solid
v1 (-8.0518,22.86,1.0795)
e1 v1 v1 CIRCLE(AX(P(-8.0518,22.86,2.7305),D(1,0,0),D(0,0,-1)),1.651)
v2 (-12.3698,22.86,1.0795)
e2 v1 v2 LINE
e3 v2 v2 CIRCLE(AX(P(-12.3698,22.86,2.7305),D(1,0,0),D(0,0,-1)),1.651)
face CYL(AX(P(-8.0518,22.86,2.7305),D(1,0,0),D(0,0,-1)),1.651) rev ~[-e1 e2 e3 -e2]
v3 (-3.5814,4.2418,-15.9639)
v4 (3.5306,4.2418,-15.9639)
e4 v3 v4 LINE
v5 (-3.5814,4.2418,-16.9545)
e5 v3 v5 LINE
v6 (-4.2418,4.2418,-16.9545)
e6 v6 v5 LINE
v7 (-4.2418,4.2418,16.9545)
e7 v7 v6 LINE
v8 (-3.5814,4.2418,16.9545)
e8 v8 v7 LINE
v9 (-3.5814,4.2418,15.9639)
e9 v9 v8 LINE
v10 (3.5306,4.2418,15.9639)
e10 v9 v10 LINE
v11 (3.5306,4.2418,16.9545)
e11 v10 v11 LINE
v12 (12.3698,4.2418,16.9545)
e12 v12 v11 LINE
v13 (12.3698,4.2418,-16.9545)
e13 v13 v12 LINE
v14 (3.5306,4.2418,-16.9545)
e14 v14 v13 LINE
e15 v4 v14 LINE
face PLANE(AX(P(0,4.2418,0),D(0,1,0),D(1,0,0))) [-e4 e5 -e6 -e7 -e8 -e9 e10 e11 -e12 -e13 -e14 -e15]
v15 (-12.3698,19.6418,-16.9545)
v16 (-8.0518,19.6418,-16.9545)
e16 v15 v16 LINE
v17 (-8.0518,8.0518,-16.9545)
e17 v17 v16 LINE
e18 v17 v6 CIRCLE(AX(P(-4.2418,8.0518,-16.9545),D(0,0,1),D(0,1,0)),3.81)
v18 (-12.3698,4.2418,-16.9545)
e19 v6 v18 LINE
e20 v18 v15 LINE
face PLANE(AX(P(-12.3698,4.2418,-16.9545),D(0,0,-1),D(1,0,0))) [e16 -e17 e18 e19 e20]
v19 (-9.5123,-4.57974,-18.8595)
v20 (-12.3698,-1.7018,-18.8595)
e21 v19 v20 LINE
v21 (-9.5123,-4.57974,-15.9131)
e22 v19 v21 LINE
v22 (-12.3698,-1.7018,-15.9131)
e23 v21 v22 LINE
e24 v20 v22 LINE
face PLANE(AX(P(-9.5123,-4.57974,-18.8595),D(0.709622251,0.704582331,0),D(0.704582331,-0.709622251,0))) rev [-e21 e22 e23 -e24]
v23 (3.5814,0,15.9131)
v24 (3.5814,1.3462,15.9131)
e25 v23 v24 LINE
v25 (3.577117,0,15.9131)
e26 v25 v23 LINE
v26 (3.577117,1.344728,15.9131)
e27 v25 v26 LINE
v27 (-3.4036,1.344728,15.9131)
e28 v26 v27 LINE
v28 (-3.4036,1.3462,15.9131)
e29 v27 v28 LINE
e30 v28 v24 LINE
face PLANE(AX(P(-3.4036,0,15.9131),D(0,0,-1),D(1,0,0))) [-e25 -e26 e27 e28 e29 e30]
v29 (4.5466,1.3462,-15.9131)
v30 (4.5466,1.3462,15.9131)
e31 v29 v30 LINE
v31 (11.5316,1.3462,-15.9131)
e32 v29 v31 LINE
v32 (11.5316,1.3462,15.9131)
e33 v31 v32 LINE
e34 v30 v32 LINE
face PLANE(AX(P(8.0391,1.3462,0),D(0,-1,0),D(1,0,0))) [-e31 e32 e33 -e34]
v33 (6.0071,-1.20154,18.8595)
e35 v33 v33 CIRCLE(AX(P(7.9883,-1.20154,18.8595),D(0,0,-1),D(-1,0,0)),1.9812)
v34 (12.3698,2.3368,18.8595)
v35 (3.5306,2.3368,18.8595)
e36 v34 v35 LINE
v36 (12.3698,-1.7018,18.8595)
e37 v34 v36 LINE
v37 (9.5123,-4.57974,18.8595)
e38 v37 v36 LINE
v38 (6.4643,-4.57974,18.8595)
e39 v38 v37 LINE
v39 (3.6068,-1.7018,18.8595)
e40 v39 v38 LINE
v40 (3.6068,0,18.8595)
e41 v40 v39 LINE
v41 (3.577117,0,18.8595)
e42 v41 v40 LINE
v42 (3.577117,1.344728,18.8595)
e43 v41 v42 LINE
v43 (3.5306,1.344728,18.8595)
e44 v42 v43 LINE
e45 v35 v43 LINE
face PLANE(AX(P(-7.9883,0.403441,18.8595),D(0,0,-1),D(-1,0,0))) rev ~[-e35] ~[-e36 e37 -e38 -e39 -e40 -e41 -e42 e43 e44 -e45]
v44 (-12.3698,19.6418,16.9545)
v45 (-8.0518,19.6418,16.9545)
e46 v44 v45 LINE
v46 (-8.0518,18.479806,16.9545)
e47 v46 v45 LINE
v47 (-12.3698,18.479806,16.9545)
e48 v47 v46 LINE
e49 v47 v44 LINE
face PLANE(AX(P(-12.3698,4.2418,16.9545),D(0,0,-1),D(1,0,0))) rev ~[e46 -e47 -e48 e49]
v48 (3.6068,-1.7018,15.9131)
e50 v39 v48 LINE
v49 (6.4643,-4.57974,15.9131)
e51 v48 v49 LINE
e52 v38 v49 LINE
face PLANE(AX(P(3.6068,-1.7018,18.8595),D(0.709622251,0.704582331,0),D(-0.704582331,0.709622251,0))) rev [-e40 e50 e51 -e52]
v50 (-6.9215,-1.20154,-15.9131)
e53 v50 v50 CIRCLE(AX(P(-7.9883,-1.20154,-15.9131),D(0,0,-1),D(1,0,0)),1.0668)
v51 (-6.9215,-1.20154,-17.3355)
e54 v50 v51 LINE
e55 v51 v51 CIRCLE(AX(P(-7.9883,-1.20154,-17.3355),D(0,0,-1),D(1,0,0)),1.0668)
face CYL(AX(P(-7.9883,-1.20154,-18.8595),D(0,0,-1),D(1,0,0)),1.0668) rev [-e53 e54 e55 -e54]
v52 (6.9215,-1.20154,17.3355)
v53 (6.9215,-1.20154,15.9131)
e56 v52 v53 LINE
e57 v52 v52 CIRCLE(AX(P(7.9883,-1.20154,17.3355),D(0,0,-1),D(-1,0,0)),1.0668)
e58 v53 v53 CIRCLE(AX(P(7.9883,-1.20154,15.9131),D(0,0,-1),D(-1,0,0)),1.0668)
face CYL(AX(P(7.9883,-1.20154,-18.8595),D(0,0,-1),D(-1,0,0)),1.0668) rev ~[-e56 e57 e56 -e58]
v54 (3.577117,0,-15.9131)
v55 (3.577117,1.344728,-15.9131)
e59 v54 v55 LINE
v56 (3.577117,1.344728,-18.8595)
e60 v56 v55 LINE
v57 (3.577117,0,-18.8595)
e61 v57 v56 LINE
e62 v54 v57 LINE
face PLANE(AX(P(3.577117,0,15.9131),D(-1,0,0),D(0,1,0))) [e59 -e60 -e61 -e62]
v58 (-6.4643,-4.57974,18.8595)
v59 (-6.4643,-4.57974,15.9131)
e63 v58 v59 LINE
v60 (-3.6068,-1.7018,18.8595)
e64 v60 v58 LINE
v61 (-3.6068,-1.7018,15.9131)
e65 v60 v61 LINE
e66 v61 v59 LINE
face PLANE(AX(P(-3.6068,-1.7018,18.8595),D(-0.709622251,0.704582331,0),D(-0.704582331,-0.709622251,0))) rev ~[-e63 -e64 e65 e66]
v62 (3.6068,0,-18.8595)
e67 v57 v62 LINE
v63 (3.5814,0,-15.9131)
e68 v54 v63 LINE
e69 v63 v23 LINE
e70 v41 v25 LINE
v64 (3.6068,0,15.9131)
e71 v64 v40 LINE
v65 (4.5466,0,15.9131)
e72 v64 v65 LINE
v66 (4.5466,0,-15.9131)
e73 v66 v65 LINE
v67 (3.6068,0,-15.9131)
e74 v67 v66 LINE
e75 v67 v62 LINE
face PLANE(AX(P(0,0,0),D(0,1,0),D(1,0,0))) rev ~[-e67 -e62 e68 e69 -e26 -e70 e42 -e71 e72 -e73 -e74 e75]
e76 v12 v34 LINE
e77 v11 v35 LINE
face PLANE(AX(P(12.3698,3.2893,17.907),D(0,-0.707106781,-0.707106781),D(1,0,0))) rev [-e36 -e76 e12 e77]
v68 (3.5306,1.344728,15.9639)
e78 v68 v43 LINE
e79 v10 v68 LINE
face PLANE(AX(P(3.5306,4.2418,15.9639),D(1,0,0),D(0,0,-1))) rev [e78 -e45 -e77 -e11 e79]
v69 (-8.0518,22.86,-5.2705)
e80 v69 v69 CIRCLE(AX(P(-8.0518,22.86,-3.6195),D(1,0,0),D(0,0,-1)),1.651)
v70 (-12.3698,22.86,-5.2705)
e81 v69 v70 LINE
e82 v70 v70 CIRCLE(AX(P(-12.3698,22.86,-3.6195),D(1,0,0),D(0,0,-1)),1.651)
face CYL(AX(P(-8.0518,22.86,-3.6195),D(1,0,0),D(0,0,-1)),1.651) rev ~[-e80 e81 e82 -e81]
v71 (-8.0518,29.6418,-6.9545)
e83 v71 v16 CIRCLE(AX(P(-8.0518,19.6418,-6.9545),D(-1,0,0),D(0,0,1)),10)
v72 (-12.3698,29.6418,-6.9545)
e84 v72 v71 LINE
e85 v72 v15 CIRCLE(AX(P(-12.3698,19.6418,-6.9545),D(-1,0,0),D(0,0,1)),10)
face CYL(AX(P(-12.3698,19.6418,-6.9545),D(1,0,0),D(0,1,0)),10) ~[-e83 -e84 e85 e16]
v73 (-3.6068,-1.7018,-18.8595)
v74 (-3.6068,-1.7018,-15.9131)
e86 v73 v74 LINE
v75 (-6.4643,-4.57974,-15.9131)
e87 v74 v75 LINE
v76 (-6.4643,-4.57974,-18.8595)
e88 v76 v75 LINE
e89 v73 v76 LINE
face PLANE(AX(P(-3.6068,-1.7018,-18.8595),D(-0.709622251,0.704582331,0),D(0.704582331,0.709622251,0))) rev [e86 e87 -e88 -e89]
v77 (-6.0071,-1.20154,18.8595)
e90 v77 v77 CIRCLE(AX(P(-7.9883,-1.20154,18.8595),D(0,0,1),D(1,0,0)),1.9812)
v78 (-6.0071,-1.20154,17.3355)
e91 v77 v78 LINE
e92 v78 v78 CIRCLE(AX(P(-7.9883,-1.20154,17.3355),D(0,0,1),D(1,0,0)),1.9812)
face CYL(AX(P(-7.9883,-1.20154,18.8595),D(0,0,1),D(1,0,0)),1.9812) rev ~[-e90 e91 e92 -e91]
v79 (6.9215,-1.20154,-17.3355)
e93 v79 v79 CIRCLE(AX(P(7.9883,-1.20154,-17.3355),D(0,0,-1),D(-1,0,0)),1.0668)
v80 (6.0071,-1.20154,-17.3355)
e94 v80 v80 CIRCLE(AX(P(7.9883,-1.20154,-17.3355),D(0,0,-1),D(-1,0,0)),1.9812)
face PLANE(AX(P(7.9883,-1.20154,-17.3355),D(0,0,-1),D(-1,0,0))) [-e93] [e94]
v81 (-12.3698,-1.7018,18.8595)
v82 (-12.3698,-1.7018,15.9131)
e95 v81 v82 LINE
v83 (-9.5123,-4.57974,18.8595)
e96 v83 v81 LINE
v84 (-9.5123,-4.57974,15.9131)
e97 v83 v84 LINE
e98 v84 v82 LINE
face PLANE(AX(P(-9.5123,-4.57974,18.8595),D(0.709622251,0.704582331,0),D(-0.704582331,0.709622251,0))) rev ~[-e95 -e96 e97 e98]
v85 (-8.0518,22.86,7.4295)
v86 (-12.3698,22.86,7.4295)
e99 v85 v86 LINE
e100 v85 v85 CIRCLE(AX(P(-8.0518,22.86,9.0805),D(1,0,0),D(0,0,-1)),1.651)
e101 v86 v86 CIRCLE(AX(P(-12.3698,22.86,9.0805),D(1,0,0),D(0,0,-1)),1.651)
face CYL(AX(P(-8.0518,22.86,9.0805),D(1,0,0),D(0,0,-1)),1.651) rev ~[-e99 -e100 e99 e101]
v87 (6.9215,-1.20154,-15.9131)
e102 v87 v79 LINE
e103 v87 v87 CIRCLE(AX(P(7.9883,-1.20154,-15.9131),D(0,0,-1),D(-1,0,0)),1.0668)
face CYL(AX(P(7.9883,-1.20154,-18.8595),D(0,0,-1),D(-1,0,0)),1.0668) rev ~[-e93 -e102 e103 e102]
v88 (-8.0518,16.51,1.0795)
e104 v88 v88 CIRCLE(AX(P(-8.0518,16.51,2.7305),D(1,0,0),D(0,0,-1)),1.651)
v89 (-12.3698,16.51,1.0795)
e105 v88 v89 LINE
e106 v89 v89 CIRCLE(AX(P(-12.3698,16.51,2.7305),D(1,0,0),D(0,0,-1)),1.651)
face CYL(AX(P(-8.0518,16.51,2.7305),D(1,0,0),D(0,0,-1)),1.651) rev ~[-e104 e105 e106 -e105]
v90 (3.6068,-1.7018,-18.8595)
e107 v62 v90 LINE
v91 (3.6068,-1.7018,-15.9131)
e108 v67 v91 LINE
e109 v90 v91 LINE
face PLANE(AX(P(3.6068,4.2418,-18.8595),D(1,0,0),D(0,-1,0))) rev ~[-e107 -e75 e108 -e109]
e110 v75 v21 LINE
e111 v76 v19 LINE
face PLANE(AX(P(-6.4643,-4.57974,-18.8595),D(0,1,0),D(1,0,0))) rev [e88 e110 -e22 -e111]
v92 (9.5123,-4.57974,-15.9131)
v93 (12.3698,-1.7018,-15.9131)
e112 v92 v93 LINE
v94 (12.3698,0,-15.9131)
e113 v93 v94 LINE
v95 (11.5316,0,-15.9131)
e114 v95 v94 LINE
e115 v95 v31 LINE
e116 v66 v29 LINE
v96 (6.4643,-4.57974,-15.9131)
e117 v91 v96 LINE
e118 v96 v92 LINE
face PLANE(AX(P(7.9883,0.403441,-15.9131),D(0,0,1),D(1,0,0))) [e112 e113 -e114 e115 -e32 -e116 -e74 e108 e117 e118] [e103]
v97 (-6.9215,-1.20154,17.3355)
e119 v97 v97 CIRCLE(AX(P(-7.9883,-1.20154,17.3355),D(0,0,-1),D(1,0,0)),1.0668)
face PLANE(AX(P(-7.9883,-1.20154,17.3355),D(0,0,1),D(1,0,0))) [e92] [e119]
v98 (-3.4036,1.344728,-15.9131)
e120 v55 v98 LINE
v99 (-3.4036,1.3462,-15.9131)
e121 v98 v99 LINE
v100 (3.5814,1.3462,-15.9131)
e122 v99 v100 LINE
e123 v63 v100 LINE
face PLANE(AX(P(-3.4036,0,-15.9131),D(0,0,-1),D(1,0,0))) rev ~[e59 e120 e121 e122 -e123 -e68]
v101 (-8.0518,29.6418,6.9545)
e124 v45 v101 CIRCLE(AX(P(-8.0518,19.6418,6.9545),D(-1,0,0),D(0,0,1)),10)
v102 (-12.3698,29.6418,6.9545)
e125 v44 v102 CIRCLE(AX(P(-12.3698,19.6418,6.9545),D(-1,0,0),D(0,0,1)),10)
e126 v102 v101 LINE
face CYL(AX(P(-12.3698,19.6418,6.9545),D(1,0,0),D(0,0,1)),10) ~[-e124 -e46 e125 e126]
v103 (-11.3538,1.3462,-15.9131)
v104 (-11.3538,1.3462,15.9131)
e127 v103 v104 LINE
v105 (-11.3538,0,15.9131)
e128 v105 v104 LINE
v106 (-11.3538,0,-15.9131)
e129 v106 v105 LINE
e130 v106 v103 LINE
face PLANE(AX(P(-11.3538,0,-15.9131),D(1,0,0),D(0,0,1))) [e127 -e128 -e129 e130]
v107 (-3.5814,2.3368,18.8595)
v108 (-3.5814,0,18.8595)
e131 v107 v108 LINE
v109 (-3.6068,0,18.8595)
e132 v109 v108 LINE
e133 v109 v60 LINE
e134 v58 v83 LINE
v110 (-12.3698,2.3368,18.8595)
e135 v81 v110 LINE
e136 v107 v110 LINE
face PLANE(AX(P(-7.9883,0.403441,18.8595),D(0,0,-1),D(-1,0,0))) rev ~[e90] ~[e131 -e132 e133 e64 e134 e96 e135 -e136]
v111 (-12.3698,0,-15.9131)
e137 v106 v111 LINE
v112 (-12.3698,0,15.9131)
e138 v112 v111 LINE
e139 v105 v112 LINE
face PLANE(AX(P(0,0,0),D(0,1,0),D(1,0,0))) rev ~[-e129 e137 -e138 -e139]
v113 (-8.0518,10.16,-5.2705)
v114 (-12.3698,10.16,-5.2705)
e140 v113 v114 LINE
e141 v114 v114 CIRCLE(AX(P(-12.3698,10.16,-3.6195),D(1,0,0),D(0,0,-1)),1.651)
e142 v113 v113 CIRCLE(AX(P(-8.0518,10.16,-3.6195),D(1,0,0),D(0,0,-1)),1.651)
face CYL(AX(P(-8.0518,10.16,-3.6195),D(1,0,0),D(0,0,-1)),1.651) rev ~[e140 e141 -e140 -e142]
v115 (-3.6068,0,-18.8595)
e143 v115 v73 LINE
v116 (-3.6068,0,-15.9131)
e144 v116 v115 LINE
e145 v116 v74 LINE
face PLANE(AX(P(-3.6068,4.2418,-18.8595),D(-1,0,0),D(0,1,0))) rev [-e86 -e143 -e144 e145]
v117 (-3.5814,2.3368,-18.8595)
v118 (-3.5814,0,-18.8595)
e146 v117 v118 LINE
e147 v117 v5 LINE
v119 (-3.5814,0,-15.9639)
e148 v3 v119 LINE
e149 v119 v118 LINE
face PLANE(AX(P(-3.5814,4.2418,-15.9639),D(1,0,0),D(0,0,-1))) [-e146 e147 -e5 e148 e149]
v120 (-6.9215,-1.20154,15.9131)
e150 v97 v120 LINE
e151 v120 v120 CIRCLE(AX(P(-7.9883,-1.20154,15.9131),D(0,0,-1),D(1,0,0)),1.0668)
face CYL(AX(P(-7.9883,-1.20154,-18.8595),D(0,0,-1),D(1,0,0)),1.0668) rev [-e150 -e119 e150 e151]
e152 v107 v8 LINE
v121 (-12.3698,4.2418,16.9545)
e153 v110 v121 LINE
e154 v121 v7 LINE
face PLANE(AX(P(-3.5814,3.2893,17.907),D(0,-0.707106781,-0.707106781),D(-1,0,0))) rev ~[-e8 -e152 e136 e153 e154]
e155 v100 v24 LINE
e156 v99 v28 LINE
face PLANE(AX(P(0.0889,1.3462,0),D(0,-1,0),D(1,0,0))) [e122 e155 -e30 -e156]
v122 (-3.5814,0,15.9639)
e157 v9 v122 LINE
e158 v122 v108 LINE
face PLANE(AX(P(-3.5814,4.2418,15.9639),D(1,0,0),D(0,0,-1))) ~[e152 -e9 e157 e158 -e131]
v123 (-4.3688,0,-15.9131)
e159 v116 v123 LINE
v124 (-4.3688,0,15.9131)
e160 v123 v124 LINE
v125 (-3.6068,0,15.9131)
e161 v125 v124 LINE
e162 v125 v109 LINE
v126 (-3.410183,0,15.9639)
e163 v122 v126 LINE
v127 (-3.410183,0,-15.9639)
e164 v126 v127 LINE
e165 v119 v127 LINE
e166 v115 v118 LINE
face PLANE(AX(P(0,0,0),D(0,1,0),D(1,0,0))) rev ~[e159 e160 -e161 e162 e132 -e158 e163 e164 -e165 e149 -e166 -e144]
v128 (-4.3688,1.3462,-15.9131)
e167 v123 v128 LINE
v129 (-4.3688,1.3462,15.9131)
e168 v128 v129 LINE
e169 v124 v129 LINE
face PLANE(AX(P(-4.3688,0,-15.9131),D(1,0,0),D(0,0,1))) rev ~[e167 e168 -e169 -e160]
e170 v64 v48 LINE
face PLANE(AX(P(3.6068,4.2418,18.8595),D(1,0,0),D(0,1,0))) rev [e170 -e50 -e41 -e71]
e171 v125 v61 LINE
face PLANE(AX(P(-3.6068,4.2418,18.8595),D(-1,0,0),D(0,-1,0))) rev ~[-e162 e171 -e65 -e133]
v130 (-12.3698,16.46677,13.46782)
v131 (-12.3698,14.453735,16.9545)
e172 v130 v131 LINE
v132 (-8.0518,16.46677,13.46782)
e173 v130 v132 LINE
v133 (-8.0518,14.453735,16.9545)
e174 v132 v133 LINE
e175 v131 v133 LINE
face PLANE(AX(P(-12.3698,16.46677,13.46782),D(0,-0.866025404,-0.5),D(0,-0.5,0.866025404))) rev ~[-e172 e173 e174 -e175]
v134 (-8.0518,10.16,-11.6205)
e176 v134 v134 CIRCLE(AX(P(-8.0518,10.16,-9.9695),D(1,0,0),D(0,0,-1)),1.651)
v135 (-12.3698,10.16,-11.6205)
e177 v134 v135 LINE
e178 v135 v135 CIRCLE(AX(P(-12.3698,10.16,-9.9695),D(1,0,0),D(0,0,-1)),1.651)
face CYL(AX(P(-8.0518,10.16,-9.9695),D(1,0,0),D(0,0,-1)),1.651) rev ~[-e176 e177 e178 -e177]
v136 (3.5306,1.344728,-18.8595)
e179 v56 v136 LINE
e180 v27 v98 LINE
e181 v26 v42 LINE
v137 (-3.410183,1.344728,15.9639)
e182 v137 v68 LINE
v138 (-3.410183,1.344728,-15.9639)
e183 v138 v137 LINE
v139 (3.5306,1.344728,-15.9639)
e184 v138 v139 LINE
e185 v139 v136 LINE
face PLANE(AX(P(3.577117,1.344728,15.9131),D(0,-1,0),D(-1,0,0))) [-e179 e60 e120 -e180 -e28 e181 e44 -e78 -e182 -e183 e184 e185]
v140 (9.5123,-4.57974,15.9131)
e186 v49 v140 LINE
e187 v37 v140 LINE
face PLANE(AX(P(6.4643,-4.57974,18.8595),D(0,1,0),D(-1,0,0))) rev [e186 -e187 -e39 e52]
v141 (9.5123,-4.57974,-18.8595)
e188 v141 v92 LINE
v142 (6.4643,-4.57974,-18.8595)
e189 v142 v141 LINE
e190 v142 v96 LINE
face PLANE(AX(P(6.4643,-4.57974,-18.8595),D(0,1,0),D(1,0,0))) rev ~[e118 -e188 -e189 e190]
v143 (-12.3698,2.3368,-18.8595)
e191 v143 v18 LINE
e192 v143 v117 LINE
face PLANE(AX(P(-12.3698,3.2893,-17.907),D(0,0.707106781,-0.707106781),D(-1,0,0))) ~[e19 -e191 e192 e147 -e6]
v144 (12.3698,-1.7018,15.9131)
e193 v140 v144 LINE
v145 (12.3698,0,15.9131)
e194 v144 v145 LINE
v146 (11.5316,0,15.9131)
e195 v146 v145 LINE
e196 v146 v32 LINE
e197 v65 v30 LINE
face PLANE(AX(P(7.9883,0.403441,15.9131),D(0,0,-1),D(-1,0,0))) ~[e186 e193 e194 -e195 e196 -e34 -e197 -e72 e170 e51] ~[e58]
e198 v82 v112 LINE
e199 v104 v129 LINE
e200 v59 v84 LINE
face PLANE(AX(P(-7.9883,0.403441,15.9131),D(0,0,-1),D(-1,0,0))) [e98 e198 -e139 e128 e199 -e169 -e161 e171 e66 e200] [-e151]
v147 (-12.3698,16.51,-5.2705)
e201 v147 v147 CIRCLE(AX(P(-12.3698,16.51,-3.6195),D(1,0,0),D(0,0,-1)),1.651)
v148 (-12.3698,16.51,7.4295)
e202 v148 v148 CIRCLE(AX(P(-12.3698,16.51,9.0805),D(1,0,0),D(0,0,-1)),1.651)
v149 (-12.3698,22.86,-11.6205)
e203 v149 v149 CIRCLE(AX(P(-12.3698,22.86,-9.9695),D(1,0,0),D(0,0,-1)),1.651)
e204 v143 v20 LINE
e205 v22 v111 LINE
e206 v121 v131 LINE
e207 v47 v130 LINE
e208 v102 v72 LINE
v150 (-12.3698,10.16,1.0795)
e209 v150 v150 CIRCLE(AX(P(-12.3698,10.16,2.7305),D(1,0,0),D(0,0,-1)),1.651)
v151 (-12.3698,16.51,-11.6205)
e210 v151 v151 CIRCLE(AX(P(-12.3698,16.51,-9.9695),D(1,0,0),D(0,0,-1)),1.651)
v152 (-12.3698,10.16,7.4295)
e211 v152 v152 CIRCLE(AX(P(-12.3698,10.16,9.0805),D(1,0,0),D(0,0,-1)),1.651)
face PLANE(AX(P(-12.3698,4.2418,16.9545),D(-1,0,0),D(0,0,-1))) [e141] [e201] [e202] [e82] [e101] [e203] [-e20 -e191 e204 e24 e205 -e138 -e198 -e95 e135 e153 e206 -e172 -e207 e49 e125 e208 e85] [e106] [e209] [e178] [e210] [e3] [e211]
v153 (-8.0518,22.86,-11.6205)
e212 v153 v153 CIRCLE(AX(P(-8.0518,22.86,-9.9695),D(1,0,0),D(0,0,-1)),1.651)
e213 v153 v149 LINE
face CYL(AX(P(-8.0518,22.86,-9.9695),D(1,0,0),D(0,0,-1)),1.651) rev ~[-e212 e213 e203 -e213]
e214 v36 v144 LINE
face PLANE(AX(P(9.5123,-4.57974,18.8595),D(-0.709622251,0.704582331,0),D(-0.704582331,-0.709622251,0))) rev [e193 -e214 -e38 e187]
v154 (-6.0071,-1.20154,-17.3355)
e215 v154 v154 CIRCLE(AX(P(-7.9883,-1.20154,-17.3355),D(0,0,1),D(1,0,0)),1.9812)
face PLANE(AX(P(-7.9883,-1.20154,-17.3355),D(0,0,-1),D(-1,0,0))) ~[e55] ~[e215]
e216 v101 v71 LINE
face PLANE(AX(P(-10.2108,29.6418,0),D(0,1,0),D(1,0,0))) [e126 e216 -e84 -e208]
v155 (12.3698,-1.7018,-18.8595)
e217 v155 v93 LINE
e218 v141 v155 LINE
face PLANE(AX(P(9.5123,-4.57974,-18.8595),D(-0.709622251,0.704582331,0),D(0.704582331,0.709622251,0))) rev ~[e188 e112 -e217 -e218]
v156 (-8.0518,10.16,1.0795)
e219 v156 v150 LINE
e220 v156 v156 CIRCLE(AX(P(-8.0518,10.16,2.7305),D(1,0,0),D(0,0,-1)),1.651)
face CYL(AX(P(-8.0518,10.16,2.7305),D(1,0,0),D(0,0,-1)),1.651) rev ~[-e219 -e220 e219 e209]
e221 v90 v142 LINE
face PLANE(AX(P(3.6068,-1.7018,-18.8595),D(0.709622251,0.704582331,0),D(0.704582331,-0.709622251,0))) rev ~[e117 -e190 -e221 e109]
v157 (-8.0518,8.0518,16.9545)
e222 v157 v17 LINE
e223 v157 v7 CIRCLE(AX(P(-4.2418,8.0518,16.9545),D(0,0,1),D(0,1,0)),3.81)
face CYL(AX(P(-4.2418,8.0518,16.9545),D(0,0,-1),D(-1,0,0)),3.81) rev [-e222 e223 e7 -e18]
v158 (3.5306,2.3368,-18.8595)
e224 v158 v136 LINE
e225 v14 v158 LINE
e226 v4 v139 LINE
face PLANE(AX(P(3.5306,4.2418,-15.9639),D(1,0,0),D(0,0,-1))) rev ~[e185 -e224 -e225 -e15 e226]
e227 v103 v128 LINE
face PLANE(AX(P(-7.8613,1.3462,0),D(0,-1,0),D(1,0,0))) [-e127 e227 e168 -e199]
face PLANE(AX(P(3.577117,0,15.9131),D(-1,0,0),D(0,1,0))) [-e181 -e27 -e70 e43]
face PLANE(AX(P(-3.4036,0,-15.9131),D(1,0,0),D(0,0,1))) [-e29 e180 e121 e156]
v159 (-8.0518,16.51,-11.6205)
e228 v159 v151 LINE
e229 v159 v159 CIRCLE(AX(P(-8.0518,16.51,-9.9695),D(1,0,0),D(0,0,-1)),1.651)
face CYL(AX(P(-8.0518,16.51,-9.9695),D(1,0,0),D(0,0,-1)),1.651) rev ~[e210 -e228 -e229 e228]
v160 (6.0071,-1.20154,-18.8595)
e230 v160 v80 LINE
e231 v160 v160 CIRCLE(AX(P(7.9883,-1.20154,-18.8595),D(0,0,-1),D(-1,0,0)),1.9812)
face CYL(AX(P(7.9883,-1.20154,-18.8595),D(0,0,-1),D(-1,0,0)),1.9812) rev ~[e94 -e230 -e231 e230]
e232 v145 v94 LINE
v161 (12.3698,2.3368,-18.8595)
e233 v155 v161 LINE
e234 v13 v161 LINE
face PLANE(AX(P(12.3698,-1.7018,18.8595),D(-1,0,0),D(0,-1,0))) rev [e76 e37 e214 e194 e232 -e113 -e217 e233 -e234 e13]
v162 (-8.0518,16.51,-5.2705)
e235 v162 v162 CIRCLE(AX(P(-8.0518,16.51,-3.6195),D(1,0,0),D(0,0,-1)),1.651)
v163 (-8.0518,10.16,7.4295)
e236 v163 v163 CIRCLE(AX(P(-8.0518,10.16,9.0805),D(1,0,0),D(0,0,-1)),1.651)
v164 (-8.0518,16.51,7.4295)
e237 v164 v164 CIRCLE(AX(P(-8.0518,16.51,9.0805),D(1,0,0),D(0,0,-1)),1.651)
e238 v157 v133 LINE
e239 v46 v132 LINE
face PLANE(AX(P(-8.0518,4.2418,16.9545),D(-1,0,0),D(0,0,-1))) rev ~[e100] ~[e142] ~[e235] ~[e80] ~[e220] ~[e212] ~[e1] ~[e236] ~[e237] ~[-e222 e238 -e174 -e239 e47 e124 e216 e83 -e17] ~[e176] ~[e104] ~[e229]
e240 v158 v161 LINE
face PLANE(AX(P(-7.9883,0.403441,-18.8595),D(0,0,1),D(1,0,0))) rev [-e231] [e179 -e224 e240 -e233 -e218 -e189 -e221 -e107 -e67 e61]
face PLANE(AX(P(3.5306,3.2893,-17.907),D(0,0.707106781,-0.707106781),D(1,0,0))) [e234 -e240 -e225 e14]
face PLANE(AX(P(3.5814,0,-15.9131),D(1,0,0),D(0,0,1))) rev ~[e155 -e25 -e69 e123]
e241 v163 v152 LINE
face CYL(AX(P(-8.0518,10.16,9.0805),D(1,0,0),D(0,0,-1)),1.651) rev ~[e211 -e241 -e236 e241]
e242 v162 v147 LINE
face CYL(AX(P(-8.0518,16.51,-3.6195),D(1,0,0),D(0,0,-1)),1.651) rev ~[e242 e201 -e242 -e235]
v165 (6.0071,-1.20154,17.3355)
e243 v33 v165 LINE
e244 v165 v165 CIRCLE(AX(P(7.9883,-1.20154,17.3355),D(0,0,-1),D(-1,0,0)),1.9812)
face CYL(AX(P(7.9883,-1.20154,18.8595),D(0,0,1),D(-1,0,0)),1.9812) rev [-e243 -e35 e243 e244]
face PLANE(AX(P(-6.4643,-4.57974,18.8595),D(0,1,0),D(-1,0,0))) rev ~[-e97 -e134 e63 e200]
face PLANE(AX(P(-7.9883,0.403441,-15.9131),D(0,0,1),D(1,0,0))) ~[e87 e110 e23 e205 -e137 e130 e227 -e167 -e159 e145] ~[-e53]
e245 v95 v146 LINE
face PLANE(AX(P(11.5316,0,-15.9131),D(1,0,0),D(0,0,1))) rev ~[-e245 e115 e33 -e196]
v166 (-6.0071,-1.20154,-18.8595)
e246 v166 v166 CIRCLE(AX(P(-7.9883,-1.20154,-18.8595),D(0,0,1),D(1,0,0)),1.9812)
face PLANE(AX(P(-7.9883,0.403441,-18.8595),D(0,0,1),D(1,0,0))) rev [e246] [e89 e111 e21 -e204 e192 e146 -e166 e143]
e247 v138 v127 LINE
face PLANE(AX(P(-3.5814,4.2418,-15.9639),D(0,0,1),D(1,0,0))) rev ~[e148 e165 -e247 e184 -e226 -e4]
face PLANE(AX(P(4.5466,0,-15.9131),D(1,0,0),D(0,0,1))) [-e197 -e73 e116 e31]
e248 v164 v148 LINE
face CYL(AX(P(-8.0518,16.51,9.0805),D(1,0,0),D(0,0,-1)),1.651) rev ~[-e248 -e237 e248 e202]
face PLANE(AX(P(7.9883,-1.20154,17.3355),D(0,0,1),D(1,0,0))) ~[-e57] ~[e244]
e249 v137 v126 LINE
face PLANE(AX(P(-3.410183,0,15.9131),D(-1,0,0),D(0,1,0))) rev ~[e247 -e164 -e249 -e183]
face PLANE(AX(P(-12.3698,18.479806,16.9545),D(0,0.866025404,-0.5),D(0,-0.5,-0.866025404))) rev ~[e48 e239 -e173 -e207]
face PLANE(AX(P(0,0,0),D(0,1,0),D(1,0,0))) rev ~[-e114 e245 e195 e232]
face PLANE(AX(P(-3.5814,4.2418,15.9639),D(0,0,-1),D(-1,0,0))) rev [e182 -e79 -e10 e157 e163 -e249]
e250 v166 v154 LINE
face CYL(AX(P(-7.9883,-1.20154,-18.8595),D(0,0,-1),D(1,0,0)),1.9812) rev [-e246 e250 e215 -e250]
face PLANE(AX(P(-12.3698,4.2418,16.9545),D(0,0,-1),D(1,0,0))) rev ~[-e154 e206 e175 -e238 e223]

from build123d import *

# Parameters (mm, degrees)
SKETCH1_W                                  = 24.7396
SKETCH1_H                                  = 37.719
BOSS_EXTRUDE1_DEPTH                        = 4.2418
BOSS_EXTRUDE2_DEPTH                        = 2.9464
MIRROR2_COPY_1_DEPTH                       = 2.9464
SKETCH3_W                                  = 6.985
SKETCH3_H                                  = 31.8262
CUT_EXTRUDE1_DEPTH                         = 1.3462
LPATTERN1_COUNT                            = 3
LPATTERN1_PITCH                            = 7.9502
SKETCH4_R                                  = 1.0668
CUT_EXTRUDE2_DEPTH                         = 40.958840453
SKETCH5_R                                  = 1.9812
CUT_EXTRUDE3_DEPTH                         = 1.524
MIRROR4_AT_THE_SECOND_PLANE_COPY_1_SKETC_R = 1.9812
MIRROR4_AT_THE_SECOND_PLANE_COPY_1_DEPTH   = 1.524
SKETCH6_W                                  = 7.112
SKETCH6_H                                  = 2.8956
CUT_EXTRUDE4_DEPTH                         = 25.218015153
SKETCH7_W                                  = 6.987300404
SKETCH7_H                                  = 1.344727602
CUT_EXTRUDE5_DEPTH                         = 63.5
CHAMFER2_SIZE                              = 1.905
SKETCH8_W                                  = 4.318
SKETCH8_H                                  = 33.909
BOSS_EXTRUDE3_DEPTH                        = 25.4
SKETCH9_R                                  = 1.651
CUT_EXTRUDE6_DEPTH                         = 25.4
FILLET1_R                                  = 10
FILLET2_R                                  = 3.81
LPATTERN4_COUNT                            = 2
LPATTERN4_PITCH                            = 6.35
LPATTERN4_COUNT_DIR2                       = 4
LPATTERN4_PITCH_DIR2                       = 6.35
LPATTERN5_COUNT                            = 2
LPATTERN5_PITCH                            = 6.35
LPATTERN5_COPY_1_SKETCH_R                  = 1.651
LPATTERN5_COPY_1_DEPTH                     = 25.4
LPATTERN5_COPY_2_SKETCH_R                  = 1.651
LPATTERN5_COPY_2_DEPTH                     = 25.4
LPATTERN5_COPY_3_SKETCH_R                  = 1.651
LPATTERN5_COPY_3_DEPTH                     = 25.4
LPATTERN5_COPY_4_SKETCH_R                  = 1.651
LPATTERN5_COPY_4_DEPTH                     = 25.4
LPATTERN5_COPY_5_SKETCH_R                  = 1.651
LPATTERN5_COPY_5_DEPTH                     = 25.4
LPATTERN5_COPY_6_SKETCH_R                  = 1.651
LPATTERN5_COPY_6_DEPTH                     = 25.4
LPATTERN5_COPY_7_SKETCH_R                  = 1.651
LPATTERN5_COPY_7_DEPTH                     = 25.4
CUT_EXTRUDE7_DEPTH                         = 25.4


with BuildPart() as part:
    # Sketch1 → Boss-Extrude1 (new body)
    with BuildSketch(Plane(origin=(0, 0, 0), x_dir=(1, 0, 0), z_dir=(0, 1, 0))):
        Rectangle(SKETCH1_W, SKETCH1_H)
    extrude(amount=BOSS_EXTRUDE1_DEPTH)

    # Sketch2 → Boss-Extrude2 (add)
    with BuildSketch(Plane(origin=(0, 0, -18.8595), x_dir=(-1, 0, 0), z_dir=(0, 0, -1))):
        Polygon((-12.3698, -1.7018), (-12.3698, 4.2418), (-3.6068, 4.2418), (-3.6068, -1.7018), (-6.4643, -4.579739869), (-9.5123, -4.579739869), align=None)
    boss_extrude2 = extrude(amount=-BOSS_EXTRUDE2_DEPTH)

    # Mirror1: Boss-Extrude2 across plane
    add(boss_extrude2.mirror(Plane(origin=(0, 0, 0), x_dir=(0, 0, 1), z_dir=(1, 0, 0))))

    # Mirror2: Boss-Extrude2 across plane
    add(boss_extrude2.mirror(Plane.XY))

    # Mirror2 copy 1 sketch → Mirror2 copy 1 (add)
    with BuildSketch(Plane.XY.offset(18.8595)):
        Polygon((-12.3698, -1.7018), (-12.3698, 4.2418), (-3.6068, 4.2418), (-3.6068, -1.7018), (-6.4643, -4.579739869), (-9.5123, -4.579739869), align=None)
    extrude(amount=-MIRROR2_COPY_1_DEPTH)

    # Sketch3 → Cut-Extrude1 (cut)
    with BuildSketch(Plane.XZ):
        with Locations((-7.8613, 0)):
            Rectangle(SKETCH3_W, SKETCH3_H)
    cut_extrude1 = extrude(amount=-CUT_EXTRUDE1_DEPTH, mode=Mode.SUBTRACT)

    # LPattern1: Cut-Extrude1 ×3
    with Locations(*[(i * LPATTERN1_PITCH, 0, 0) for i in range(1, LPATTERN1_COUNT)]):
        add(cut_extrude1, mode=Mode.SUBTRACT)

    # Sketch4 → Cut-Extrude2 (cut, symmetric)
    with BuildSketch(Plane(origin=(0, 0, -18.8595), x_dir=(-1, 0, 0), z_dir=(0, 0, -1))):
        with Locations((-7.9883, -1.201539869)):
            Circle(SKETCH4_R)
    cut_extrude2 = extrude(amount=CUT_EXTRUDE2_DEPTH, both=True, mode=Mode.SUBTRACT)

    # Mirror3: Cut-Extrude2 across plane
    add(cut_extrude2.mirror(Plane(origin=(0, 0, 0), x_dir=(0, 0, 1), z_dir=(1, 0, 0))), mode=Mode.SUBTRACT)

    # Sketch5 → Cut-Extrude3 (cut)
    with BuildSketch(Plane(origin=(0, 0, -18.8595), x_dir=(-1, 0, 0), z_dir=(0, 0, -1))):
        with Locations((-7.9883, -1.201539869)):
            Circle(SKETCH5_R)
    cut_extrude3 = extrude(amount=-CUT_EXTRUDE3_DEPTH, mode=Mode.SUBTRACT)

    # Mirror4: Cut-Extrude3 across plane
    add(cut_extrude3.mirror(Plane.XY), mode=Mode.SUBTRACT)

    # Mirror4 at the second plane: Cut-Extrude3 across plane
    add(cut_extrude3.mirror(Plane(origin=(0, 0, 0), x_dir=(0, 0, 1), z_dir=(1, 0, 0))), mode=Mode.SUBTRACT)

    # Mirror4 at the second plane copy 1 sketc → Mirror4 at the second plane copy 1 (cut)
    with BuildSketch(Plane.XY.offset(18.8595)):
        with Locations((-7.9883, -1.201539869)):
            Circle(MIRROR4_AT_THE_SECOND_PLANE_COPY_1_SKETC_R)
    extrude(amount=-MIRROR4_AT_THE_SECOND_PLANE_COPY_1_DEPTH, mode=Mode.SUBTRACT)

    # Sketch6 → Cut-Extrude4 (cut, through all)
    with BuildSketch(Plane(origin=(0, 4.2418, 0), x_dir=(1, 0, 0), z_dir=(0, 1, 0))):
        with Locations((-0.0254, 17.4117)):
            Rectangle(SKETCH6_W, SKETCH6_H)
    cut_extrude4 = extrude(amount=-CUT_EXTRUDE4_DEPTH, mode=Mode.SUBTRACT)

    # Mirror5: Cut-Extrude4 across plane
    add(cut_extrude4.mirror(Plane.XY), mode=Mode.SUBTRACT)

    # Sketch7 → Cut-Extrude5 (cut, symmetric)
    with BuildSketch(Plane(origin=(0, 0, 15.9131), x_dir=(-1, 0, 0), z_dir=(0, 0, -1))):
        with Locations((-0.083466761, 0.672363801)):
            Rectangle(SKETCH7_W, SKETCH7_H)
    extrude(amount=CUT_EXTRUDE5_DEPTH, both=True, mode=Mode.SUBTRACT)

    # Chamfer2
    chamfer2_edges = [part.edges().sort_by_distance(p)[0] for p in [
        (7.9502, 4.2418, -18.8595),
        (-7.9756, 4.2418, -18.8595),
        (7.9502, 4.2418, 18.8595),
        (-7.9756, 4.2418, 18.8595),
    ]]
    chamfer(chamfer2_edges, length=CHAMFER2_SIZE)

    # Sketch8 → Boss-Extrude3 (add)
    with BuildSketch(Plane(origin=(0, 4.2418, 0), x_dir=(1, 0, 0), z_dir=(0, 1, 0))):
        with Locations((-10.2108, 0)):
            Rectangle(SKETCH8_W, SKETCH8_H)
    extrude(amount=BOSS_EXTRUDE3_DEPTH)

    # Sketch9 → Cut-Extrude6 (cut)
    with BuildSketch(Plane(origin=(-8.0518, 0, 0), x_dir=(0, 0, -1), z_dir=(1, 0, 0))):
        with Locations((9.9695, 16.51)):
            Circle(SKETCH9_R)
    cut_extrude6 = extrude(amount=-CUT_EXTRUDE6_DEPTH, mode=Mode.SUBTRACT)

    # Fillet1
    fillet1_edges = [part.edges().sort_by_distance(p)[0] for p in [
        (-10.2108, 29.6418, 16.9545),
        (-10.2108, 29.6418, -16.9545),
    ]]
    fillet(fillet1_edges, radius=FILLET1_R)

    # Fillet2
    fillet2_edges = [part.edges().sort_by_distance(p)[0] for p in [
        (-8.0518, 4.2418, 0),
    ]]
    fillet(fillet2_edges, radius=FILLET2_R)

    # LPattern4: Cut-Extrude6 2 × 4
    with Locations(*[(0, -i * LPATTERN4_PITCH, j * LPATTERN4_PITCH_DIR2) for i in range(LPATTERN4_COUNT) for j in range(LPATTERN4_COUNT_DIR2) if (i, j) != (0, 0)]):
        add(cut_extrude6, mode=Mode.SUBTRACT)

    # LPattern5: Cut-Extrude6 ×2
    with Locations(*[(0, i * LPATTERN5_PITCH, 0) for i in range(1, LPATTERN5_COUNT)]):
        add(cut_extrude6, mode=Mode.SUBTRACT)

    # LPattern5 copy 1 sketch → LPattern5 copy 1 (cut)
    with BuildSketch(Plane(origin=(-8.0518, 6.35, 6.35), x_dir=(0, 0, -1), z_dir=(1, 0, 0))):
        with Locations((9.9695, 16.51)):
            Circle(LPATTERN5_COPY_1_SKETCH_R)
    extrude(amount=-LPATTERN5_COPY_1_DEPTH, mode=Mode.SUBTRACT)

    # LPattern5 copy 2 sketch → LPattern5 copy 2 (cut)
    with BuildSketch(Plane(origin=(-8.0518, 6.35, 12.7), x_dir=(0, 0, -1), z_dir=(1, 0, 0))):
        with Locations((9.9695, 16.51)):
            Circle(LPATTERN5_COPY_2_SKETCH_R)
    extrude(amount=-LPATTERN5_COPY_2_DEPTH, mode=Mode.SUBTRACT)

    # LPattern5 copy 3 sketch → LPattern5 copy 3 (cut)
    with BuildSketch(Plane(origin=(-8.0518, 6.35, 19.05), x_dir=(0, 0, -1), z_dir=(1, 0, 0))):
        with Locations((9.9695, 16.51)):
            Circle(LPATTERN5_COPY_3_SKETCH_R)
    extrude(amount=-LPATTERN5_COPY_3_DEPTH, mode=Mode.SUBTRACT)

    # LPattern5 copy 4 sketch → LPattern5 copy 4 (cut)
    with BuildSketch(Plane(origin=(-8.0518, 0, 0), x_dir=(0, 0, -1), z_dir=(1, 0, 0))):
        with Locations((9.9695, 16.51)):
            Circle(LPATTERN5_COPY_4_SKETCH_R)
    extrude(amount=-LPATTERN5_COPY_4_DEPTH, mode=Mode.SUBTRACT)

    # LPattern5 copy 5 sketch → LPattern5 copy 5 (cut)
    with BuildSketch(Plane(origin=(-8.0518, 0, 6.35), x_dir=(0, 0, -1), z_dir=(1, 0, 0))):
        with Locations((9.9695, 16.51)):
            Circle(LPATTERN5_COPY_5_SKETCH_R)
    extrude(amount=-LPATTERN5_COPY_5_DEPTH, mode=Mode.SUBTRACT)

    # LPattern5 copy 6 sketch → LPattern5 copy 6 (cut)
    with BuildSketch(Plane(origin=(-8.0518, 0, 12.7), x_dir=(0, 0, -1), z_dir=(1, 0, 0))):
        with Locations((9.9695, 16.51)):
            Circle(LPATTERN5_COPY_6_SKETCH_R)
    extrude(amount=-LPATTERN5_COPY_6_DEPTH, mode=Mode.SUBTRACT)

    # LPattern5 copy 7 sketch → LPattern5 copy 7 (cut)
    with BuildSketch(Plane(origin=(-8.0518, 0, 19.05), x_dir=(0, 0, -1), z_dir=(1, 0, 0))):
        with Locations((9.9695, 16.51)):
            Circle(LPATTERN5_COPY_7_SKETCH_R)
    extrude(amount=-LPATTERN5_COPY_7_DEPTH, mode=Mode.SUBTRACT)

    # Sketch10 → Cut-Extrude7 (cut)
    with BuildSketch(Plane.ZY.offset(12.3698)):
        Polygon((16.9545, 18.479805683), (13.467820237, 16.466770183), (16.9545, 14.453734683), align=None)
    extrude(amount=-CUT_EXTRUDE7_DEPTH, mode=Mode.SUBTRACT)


solid = part.part
